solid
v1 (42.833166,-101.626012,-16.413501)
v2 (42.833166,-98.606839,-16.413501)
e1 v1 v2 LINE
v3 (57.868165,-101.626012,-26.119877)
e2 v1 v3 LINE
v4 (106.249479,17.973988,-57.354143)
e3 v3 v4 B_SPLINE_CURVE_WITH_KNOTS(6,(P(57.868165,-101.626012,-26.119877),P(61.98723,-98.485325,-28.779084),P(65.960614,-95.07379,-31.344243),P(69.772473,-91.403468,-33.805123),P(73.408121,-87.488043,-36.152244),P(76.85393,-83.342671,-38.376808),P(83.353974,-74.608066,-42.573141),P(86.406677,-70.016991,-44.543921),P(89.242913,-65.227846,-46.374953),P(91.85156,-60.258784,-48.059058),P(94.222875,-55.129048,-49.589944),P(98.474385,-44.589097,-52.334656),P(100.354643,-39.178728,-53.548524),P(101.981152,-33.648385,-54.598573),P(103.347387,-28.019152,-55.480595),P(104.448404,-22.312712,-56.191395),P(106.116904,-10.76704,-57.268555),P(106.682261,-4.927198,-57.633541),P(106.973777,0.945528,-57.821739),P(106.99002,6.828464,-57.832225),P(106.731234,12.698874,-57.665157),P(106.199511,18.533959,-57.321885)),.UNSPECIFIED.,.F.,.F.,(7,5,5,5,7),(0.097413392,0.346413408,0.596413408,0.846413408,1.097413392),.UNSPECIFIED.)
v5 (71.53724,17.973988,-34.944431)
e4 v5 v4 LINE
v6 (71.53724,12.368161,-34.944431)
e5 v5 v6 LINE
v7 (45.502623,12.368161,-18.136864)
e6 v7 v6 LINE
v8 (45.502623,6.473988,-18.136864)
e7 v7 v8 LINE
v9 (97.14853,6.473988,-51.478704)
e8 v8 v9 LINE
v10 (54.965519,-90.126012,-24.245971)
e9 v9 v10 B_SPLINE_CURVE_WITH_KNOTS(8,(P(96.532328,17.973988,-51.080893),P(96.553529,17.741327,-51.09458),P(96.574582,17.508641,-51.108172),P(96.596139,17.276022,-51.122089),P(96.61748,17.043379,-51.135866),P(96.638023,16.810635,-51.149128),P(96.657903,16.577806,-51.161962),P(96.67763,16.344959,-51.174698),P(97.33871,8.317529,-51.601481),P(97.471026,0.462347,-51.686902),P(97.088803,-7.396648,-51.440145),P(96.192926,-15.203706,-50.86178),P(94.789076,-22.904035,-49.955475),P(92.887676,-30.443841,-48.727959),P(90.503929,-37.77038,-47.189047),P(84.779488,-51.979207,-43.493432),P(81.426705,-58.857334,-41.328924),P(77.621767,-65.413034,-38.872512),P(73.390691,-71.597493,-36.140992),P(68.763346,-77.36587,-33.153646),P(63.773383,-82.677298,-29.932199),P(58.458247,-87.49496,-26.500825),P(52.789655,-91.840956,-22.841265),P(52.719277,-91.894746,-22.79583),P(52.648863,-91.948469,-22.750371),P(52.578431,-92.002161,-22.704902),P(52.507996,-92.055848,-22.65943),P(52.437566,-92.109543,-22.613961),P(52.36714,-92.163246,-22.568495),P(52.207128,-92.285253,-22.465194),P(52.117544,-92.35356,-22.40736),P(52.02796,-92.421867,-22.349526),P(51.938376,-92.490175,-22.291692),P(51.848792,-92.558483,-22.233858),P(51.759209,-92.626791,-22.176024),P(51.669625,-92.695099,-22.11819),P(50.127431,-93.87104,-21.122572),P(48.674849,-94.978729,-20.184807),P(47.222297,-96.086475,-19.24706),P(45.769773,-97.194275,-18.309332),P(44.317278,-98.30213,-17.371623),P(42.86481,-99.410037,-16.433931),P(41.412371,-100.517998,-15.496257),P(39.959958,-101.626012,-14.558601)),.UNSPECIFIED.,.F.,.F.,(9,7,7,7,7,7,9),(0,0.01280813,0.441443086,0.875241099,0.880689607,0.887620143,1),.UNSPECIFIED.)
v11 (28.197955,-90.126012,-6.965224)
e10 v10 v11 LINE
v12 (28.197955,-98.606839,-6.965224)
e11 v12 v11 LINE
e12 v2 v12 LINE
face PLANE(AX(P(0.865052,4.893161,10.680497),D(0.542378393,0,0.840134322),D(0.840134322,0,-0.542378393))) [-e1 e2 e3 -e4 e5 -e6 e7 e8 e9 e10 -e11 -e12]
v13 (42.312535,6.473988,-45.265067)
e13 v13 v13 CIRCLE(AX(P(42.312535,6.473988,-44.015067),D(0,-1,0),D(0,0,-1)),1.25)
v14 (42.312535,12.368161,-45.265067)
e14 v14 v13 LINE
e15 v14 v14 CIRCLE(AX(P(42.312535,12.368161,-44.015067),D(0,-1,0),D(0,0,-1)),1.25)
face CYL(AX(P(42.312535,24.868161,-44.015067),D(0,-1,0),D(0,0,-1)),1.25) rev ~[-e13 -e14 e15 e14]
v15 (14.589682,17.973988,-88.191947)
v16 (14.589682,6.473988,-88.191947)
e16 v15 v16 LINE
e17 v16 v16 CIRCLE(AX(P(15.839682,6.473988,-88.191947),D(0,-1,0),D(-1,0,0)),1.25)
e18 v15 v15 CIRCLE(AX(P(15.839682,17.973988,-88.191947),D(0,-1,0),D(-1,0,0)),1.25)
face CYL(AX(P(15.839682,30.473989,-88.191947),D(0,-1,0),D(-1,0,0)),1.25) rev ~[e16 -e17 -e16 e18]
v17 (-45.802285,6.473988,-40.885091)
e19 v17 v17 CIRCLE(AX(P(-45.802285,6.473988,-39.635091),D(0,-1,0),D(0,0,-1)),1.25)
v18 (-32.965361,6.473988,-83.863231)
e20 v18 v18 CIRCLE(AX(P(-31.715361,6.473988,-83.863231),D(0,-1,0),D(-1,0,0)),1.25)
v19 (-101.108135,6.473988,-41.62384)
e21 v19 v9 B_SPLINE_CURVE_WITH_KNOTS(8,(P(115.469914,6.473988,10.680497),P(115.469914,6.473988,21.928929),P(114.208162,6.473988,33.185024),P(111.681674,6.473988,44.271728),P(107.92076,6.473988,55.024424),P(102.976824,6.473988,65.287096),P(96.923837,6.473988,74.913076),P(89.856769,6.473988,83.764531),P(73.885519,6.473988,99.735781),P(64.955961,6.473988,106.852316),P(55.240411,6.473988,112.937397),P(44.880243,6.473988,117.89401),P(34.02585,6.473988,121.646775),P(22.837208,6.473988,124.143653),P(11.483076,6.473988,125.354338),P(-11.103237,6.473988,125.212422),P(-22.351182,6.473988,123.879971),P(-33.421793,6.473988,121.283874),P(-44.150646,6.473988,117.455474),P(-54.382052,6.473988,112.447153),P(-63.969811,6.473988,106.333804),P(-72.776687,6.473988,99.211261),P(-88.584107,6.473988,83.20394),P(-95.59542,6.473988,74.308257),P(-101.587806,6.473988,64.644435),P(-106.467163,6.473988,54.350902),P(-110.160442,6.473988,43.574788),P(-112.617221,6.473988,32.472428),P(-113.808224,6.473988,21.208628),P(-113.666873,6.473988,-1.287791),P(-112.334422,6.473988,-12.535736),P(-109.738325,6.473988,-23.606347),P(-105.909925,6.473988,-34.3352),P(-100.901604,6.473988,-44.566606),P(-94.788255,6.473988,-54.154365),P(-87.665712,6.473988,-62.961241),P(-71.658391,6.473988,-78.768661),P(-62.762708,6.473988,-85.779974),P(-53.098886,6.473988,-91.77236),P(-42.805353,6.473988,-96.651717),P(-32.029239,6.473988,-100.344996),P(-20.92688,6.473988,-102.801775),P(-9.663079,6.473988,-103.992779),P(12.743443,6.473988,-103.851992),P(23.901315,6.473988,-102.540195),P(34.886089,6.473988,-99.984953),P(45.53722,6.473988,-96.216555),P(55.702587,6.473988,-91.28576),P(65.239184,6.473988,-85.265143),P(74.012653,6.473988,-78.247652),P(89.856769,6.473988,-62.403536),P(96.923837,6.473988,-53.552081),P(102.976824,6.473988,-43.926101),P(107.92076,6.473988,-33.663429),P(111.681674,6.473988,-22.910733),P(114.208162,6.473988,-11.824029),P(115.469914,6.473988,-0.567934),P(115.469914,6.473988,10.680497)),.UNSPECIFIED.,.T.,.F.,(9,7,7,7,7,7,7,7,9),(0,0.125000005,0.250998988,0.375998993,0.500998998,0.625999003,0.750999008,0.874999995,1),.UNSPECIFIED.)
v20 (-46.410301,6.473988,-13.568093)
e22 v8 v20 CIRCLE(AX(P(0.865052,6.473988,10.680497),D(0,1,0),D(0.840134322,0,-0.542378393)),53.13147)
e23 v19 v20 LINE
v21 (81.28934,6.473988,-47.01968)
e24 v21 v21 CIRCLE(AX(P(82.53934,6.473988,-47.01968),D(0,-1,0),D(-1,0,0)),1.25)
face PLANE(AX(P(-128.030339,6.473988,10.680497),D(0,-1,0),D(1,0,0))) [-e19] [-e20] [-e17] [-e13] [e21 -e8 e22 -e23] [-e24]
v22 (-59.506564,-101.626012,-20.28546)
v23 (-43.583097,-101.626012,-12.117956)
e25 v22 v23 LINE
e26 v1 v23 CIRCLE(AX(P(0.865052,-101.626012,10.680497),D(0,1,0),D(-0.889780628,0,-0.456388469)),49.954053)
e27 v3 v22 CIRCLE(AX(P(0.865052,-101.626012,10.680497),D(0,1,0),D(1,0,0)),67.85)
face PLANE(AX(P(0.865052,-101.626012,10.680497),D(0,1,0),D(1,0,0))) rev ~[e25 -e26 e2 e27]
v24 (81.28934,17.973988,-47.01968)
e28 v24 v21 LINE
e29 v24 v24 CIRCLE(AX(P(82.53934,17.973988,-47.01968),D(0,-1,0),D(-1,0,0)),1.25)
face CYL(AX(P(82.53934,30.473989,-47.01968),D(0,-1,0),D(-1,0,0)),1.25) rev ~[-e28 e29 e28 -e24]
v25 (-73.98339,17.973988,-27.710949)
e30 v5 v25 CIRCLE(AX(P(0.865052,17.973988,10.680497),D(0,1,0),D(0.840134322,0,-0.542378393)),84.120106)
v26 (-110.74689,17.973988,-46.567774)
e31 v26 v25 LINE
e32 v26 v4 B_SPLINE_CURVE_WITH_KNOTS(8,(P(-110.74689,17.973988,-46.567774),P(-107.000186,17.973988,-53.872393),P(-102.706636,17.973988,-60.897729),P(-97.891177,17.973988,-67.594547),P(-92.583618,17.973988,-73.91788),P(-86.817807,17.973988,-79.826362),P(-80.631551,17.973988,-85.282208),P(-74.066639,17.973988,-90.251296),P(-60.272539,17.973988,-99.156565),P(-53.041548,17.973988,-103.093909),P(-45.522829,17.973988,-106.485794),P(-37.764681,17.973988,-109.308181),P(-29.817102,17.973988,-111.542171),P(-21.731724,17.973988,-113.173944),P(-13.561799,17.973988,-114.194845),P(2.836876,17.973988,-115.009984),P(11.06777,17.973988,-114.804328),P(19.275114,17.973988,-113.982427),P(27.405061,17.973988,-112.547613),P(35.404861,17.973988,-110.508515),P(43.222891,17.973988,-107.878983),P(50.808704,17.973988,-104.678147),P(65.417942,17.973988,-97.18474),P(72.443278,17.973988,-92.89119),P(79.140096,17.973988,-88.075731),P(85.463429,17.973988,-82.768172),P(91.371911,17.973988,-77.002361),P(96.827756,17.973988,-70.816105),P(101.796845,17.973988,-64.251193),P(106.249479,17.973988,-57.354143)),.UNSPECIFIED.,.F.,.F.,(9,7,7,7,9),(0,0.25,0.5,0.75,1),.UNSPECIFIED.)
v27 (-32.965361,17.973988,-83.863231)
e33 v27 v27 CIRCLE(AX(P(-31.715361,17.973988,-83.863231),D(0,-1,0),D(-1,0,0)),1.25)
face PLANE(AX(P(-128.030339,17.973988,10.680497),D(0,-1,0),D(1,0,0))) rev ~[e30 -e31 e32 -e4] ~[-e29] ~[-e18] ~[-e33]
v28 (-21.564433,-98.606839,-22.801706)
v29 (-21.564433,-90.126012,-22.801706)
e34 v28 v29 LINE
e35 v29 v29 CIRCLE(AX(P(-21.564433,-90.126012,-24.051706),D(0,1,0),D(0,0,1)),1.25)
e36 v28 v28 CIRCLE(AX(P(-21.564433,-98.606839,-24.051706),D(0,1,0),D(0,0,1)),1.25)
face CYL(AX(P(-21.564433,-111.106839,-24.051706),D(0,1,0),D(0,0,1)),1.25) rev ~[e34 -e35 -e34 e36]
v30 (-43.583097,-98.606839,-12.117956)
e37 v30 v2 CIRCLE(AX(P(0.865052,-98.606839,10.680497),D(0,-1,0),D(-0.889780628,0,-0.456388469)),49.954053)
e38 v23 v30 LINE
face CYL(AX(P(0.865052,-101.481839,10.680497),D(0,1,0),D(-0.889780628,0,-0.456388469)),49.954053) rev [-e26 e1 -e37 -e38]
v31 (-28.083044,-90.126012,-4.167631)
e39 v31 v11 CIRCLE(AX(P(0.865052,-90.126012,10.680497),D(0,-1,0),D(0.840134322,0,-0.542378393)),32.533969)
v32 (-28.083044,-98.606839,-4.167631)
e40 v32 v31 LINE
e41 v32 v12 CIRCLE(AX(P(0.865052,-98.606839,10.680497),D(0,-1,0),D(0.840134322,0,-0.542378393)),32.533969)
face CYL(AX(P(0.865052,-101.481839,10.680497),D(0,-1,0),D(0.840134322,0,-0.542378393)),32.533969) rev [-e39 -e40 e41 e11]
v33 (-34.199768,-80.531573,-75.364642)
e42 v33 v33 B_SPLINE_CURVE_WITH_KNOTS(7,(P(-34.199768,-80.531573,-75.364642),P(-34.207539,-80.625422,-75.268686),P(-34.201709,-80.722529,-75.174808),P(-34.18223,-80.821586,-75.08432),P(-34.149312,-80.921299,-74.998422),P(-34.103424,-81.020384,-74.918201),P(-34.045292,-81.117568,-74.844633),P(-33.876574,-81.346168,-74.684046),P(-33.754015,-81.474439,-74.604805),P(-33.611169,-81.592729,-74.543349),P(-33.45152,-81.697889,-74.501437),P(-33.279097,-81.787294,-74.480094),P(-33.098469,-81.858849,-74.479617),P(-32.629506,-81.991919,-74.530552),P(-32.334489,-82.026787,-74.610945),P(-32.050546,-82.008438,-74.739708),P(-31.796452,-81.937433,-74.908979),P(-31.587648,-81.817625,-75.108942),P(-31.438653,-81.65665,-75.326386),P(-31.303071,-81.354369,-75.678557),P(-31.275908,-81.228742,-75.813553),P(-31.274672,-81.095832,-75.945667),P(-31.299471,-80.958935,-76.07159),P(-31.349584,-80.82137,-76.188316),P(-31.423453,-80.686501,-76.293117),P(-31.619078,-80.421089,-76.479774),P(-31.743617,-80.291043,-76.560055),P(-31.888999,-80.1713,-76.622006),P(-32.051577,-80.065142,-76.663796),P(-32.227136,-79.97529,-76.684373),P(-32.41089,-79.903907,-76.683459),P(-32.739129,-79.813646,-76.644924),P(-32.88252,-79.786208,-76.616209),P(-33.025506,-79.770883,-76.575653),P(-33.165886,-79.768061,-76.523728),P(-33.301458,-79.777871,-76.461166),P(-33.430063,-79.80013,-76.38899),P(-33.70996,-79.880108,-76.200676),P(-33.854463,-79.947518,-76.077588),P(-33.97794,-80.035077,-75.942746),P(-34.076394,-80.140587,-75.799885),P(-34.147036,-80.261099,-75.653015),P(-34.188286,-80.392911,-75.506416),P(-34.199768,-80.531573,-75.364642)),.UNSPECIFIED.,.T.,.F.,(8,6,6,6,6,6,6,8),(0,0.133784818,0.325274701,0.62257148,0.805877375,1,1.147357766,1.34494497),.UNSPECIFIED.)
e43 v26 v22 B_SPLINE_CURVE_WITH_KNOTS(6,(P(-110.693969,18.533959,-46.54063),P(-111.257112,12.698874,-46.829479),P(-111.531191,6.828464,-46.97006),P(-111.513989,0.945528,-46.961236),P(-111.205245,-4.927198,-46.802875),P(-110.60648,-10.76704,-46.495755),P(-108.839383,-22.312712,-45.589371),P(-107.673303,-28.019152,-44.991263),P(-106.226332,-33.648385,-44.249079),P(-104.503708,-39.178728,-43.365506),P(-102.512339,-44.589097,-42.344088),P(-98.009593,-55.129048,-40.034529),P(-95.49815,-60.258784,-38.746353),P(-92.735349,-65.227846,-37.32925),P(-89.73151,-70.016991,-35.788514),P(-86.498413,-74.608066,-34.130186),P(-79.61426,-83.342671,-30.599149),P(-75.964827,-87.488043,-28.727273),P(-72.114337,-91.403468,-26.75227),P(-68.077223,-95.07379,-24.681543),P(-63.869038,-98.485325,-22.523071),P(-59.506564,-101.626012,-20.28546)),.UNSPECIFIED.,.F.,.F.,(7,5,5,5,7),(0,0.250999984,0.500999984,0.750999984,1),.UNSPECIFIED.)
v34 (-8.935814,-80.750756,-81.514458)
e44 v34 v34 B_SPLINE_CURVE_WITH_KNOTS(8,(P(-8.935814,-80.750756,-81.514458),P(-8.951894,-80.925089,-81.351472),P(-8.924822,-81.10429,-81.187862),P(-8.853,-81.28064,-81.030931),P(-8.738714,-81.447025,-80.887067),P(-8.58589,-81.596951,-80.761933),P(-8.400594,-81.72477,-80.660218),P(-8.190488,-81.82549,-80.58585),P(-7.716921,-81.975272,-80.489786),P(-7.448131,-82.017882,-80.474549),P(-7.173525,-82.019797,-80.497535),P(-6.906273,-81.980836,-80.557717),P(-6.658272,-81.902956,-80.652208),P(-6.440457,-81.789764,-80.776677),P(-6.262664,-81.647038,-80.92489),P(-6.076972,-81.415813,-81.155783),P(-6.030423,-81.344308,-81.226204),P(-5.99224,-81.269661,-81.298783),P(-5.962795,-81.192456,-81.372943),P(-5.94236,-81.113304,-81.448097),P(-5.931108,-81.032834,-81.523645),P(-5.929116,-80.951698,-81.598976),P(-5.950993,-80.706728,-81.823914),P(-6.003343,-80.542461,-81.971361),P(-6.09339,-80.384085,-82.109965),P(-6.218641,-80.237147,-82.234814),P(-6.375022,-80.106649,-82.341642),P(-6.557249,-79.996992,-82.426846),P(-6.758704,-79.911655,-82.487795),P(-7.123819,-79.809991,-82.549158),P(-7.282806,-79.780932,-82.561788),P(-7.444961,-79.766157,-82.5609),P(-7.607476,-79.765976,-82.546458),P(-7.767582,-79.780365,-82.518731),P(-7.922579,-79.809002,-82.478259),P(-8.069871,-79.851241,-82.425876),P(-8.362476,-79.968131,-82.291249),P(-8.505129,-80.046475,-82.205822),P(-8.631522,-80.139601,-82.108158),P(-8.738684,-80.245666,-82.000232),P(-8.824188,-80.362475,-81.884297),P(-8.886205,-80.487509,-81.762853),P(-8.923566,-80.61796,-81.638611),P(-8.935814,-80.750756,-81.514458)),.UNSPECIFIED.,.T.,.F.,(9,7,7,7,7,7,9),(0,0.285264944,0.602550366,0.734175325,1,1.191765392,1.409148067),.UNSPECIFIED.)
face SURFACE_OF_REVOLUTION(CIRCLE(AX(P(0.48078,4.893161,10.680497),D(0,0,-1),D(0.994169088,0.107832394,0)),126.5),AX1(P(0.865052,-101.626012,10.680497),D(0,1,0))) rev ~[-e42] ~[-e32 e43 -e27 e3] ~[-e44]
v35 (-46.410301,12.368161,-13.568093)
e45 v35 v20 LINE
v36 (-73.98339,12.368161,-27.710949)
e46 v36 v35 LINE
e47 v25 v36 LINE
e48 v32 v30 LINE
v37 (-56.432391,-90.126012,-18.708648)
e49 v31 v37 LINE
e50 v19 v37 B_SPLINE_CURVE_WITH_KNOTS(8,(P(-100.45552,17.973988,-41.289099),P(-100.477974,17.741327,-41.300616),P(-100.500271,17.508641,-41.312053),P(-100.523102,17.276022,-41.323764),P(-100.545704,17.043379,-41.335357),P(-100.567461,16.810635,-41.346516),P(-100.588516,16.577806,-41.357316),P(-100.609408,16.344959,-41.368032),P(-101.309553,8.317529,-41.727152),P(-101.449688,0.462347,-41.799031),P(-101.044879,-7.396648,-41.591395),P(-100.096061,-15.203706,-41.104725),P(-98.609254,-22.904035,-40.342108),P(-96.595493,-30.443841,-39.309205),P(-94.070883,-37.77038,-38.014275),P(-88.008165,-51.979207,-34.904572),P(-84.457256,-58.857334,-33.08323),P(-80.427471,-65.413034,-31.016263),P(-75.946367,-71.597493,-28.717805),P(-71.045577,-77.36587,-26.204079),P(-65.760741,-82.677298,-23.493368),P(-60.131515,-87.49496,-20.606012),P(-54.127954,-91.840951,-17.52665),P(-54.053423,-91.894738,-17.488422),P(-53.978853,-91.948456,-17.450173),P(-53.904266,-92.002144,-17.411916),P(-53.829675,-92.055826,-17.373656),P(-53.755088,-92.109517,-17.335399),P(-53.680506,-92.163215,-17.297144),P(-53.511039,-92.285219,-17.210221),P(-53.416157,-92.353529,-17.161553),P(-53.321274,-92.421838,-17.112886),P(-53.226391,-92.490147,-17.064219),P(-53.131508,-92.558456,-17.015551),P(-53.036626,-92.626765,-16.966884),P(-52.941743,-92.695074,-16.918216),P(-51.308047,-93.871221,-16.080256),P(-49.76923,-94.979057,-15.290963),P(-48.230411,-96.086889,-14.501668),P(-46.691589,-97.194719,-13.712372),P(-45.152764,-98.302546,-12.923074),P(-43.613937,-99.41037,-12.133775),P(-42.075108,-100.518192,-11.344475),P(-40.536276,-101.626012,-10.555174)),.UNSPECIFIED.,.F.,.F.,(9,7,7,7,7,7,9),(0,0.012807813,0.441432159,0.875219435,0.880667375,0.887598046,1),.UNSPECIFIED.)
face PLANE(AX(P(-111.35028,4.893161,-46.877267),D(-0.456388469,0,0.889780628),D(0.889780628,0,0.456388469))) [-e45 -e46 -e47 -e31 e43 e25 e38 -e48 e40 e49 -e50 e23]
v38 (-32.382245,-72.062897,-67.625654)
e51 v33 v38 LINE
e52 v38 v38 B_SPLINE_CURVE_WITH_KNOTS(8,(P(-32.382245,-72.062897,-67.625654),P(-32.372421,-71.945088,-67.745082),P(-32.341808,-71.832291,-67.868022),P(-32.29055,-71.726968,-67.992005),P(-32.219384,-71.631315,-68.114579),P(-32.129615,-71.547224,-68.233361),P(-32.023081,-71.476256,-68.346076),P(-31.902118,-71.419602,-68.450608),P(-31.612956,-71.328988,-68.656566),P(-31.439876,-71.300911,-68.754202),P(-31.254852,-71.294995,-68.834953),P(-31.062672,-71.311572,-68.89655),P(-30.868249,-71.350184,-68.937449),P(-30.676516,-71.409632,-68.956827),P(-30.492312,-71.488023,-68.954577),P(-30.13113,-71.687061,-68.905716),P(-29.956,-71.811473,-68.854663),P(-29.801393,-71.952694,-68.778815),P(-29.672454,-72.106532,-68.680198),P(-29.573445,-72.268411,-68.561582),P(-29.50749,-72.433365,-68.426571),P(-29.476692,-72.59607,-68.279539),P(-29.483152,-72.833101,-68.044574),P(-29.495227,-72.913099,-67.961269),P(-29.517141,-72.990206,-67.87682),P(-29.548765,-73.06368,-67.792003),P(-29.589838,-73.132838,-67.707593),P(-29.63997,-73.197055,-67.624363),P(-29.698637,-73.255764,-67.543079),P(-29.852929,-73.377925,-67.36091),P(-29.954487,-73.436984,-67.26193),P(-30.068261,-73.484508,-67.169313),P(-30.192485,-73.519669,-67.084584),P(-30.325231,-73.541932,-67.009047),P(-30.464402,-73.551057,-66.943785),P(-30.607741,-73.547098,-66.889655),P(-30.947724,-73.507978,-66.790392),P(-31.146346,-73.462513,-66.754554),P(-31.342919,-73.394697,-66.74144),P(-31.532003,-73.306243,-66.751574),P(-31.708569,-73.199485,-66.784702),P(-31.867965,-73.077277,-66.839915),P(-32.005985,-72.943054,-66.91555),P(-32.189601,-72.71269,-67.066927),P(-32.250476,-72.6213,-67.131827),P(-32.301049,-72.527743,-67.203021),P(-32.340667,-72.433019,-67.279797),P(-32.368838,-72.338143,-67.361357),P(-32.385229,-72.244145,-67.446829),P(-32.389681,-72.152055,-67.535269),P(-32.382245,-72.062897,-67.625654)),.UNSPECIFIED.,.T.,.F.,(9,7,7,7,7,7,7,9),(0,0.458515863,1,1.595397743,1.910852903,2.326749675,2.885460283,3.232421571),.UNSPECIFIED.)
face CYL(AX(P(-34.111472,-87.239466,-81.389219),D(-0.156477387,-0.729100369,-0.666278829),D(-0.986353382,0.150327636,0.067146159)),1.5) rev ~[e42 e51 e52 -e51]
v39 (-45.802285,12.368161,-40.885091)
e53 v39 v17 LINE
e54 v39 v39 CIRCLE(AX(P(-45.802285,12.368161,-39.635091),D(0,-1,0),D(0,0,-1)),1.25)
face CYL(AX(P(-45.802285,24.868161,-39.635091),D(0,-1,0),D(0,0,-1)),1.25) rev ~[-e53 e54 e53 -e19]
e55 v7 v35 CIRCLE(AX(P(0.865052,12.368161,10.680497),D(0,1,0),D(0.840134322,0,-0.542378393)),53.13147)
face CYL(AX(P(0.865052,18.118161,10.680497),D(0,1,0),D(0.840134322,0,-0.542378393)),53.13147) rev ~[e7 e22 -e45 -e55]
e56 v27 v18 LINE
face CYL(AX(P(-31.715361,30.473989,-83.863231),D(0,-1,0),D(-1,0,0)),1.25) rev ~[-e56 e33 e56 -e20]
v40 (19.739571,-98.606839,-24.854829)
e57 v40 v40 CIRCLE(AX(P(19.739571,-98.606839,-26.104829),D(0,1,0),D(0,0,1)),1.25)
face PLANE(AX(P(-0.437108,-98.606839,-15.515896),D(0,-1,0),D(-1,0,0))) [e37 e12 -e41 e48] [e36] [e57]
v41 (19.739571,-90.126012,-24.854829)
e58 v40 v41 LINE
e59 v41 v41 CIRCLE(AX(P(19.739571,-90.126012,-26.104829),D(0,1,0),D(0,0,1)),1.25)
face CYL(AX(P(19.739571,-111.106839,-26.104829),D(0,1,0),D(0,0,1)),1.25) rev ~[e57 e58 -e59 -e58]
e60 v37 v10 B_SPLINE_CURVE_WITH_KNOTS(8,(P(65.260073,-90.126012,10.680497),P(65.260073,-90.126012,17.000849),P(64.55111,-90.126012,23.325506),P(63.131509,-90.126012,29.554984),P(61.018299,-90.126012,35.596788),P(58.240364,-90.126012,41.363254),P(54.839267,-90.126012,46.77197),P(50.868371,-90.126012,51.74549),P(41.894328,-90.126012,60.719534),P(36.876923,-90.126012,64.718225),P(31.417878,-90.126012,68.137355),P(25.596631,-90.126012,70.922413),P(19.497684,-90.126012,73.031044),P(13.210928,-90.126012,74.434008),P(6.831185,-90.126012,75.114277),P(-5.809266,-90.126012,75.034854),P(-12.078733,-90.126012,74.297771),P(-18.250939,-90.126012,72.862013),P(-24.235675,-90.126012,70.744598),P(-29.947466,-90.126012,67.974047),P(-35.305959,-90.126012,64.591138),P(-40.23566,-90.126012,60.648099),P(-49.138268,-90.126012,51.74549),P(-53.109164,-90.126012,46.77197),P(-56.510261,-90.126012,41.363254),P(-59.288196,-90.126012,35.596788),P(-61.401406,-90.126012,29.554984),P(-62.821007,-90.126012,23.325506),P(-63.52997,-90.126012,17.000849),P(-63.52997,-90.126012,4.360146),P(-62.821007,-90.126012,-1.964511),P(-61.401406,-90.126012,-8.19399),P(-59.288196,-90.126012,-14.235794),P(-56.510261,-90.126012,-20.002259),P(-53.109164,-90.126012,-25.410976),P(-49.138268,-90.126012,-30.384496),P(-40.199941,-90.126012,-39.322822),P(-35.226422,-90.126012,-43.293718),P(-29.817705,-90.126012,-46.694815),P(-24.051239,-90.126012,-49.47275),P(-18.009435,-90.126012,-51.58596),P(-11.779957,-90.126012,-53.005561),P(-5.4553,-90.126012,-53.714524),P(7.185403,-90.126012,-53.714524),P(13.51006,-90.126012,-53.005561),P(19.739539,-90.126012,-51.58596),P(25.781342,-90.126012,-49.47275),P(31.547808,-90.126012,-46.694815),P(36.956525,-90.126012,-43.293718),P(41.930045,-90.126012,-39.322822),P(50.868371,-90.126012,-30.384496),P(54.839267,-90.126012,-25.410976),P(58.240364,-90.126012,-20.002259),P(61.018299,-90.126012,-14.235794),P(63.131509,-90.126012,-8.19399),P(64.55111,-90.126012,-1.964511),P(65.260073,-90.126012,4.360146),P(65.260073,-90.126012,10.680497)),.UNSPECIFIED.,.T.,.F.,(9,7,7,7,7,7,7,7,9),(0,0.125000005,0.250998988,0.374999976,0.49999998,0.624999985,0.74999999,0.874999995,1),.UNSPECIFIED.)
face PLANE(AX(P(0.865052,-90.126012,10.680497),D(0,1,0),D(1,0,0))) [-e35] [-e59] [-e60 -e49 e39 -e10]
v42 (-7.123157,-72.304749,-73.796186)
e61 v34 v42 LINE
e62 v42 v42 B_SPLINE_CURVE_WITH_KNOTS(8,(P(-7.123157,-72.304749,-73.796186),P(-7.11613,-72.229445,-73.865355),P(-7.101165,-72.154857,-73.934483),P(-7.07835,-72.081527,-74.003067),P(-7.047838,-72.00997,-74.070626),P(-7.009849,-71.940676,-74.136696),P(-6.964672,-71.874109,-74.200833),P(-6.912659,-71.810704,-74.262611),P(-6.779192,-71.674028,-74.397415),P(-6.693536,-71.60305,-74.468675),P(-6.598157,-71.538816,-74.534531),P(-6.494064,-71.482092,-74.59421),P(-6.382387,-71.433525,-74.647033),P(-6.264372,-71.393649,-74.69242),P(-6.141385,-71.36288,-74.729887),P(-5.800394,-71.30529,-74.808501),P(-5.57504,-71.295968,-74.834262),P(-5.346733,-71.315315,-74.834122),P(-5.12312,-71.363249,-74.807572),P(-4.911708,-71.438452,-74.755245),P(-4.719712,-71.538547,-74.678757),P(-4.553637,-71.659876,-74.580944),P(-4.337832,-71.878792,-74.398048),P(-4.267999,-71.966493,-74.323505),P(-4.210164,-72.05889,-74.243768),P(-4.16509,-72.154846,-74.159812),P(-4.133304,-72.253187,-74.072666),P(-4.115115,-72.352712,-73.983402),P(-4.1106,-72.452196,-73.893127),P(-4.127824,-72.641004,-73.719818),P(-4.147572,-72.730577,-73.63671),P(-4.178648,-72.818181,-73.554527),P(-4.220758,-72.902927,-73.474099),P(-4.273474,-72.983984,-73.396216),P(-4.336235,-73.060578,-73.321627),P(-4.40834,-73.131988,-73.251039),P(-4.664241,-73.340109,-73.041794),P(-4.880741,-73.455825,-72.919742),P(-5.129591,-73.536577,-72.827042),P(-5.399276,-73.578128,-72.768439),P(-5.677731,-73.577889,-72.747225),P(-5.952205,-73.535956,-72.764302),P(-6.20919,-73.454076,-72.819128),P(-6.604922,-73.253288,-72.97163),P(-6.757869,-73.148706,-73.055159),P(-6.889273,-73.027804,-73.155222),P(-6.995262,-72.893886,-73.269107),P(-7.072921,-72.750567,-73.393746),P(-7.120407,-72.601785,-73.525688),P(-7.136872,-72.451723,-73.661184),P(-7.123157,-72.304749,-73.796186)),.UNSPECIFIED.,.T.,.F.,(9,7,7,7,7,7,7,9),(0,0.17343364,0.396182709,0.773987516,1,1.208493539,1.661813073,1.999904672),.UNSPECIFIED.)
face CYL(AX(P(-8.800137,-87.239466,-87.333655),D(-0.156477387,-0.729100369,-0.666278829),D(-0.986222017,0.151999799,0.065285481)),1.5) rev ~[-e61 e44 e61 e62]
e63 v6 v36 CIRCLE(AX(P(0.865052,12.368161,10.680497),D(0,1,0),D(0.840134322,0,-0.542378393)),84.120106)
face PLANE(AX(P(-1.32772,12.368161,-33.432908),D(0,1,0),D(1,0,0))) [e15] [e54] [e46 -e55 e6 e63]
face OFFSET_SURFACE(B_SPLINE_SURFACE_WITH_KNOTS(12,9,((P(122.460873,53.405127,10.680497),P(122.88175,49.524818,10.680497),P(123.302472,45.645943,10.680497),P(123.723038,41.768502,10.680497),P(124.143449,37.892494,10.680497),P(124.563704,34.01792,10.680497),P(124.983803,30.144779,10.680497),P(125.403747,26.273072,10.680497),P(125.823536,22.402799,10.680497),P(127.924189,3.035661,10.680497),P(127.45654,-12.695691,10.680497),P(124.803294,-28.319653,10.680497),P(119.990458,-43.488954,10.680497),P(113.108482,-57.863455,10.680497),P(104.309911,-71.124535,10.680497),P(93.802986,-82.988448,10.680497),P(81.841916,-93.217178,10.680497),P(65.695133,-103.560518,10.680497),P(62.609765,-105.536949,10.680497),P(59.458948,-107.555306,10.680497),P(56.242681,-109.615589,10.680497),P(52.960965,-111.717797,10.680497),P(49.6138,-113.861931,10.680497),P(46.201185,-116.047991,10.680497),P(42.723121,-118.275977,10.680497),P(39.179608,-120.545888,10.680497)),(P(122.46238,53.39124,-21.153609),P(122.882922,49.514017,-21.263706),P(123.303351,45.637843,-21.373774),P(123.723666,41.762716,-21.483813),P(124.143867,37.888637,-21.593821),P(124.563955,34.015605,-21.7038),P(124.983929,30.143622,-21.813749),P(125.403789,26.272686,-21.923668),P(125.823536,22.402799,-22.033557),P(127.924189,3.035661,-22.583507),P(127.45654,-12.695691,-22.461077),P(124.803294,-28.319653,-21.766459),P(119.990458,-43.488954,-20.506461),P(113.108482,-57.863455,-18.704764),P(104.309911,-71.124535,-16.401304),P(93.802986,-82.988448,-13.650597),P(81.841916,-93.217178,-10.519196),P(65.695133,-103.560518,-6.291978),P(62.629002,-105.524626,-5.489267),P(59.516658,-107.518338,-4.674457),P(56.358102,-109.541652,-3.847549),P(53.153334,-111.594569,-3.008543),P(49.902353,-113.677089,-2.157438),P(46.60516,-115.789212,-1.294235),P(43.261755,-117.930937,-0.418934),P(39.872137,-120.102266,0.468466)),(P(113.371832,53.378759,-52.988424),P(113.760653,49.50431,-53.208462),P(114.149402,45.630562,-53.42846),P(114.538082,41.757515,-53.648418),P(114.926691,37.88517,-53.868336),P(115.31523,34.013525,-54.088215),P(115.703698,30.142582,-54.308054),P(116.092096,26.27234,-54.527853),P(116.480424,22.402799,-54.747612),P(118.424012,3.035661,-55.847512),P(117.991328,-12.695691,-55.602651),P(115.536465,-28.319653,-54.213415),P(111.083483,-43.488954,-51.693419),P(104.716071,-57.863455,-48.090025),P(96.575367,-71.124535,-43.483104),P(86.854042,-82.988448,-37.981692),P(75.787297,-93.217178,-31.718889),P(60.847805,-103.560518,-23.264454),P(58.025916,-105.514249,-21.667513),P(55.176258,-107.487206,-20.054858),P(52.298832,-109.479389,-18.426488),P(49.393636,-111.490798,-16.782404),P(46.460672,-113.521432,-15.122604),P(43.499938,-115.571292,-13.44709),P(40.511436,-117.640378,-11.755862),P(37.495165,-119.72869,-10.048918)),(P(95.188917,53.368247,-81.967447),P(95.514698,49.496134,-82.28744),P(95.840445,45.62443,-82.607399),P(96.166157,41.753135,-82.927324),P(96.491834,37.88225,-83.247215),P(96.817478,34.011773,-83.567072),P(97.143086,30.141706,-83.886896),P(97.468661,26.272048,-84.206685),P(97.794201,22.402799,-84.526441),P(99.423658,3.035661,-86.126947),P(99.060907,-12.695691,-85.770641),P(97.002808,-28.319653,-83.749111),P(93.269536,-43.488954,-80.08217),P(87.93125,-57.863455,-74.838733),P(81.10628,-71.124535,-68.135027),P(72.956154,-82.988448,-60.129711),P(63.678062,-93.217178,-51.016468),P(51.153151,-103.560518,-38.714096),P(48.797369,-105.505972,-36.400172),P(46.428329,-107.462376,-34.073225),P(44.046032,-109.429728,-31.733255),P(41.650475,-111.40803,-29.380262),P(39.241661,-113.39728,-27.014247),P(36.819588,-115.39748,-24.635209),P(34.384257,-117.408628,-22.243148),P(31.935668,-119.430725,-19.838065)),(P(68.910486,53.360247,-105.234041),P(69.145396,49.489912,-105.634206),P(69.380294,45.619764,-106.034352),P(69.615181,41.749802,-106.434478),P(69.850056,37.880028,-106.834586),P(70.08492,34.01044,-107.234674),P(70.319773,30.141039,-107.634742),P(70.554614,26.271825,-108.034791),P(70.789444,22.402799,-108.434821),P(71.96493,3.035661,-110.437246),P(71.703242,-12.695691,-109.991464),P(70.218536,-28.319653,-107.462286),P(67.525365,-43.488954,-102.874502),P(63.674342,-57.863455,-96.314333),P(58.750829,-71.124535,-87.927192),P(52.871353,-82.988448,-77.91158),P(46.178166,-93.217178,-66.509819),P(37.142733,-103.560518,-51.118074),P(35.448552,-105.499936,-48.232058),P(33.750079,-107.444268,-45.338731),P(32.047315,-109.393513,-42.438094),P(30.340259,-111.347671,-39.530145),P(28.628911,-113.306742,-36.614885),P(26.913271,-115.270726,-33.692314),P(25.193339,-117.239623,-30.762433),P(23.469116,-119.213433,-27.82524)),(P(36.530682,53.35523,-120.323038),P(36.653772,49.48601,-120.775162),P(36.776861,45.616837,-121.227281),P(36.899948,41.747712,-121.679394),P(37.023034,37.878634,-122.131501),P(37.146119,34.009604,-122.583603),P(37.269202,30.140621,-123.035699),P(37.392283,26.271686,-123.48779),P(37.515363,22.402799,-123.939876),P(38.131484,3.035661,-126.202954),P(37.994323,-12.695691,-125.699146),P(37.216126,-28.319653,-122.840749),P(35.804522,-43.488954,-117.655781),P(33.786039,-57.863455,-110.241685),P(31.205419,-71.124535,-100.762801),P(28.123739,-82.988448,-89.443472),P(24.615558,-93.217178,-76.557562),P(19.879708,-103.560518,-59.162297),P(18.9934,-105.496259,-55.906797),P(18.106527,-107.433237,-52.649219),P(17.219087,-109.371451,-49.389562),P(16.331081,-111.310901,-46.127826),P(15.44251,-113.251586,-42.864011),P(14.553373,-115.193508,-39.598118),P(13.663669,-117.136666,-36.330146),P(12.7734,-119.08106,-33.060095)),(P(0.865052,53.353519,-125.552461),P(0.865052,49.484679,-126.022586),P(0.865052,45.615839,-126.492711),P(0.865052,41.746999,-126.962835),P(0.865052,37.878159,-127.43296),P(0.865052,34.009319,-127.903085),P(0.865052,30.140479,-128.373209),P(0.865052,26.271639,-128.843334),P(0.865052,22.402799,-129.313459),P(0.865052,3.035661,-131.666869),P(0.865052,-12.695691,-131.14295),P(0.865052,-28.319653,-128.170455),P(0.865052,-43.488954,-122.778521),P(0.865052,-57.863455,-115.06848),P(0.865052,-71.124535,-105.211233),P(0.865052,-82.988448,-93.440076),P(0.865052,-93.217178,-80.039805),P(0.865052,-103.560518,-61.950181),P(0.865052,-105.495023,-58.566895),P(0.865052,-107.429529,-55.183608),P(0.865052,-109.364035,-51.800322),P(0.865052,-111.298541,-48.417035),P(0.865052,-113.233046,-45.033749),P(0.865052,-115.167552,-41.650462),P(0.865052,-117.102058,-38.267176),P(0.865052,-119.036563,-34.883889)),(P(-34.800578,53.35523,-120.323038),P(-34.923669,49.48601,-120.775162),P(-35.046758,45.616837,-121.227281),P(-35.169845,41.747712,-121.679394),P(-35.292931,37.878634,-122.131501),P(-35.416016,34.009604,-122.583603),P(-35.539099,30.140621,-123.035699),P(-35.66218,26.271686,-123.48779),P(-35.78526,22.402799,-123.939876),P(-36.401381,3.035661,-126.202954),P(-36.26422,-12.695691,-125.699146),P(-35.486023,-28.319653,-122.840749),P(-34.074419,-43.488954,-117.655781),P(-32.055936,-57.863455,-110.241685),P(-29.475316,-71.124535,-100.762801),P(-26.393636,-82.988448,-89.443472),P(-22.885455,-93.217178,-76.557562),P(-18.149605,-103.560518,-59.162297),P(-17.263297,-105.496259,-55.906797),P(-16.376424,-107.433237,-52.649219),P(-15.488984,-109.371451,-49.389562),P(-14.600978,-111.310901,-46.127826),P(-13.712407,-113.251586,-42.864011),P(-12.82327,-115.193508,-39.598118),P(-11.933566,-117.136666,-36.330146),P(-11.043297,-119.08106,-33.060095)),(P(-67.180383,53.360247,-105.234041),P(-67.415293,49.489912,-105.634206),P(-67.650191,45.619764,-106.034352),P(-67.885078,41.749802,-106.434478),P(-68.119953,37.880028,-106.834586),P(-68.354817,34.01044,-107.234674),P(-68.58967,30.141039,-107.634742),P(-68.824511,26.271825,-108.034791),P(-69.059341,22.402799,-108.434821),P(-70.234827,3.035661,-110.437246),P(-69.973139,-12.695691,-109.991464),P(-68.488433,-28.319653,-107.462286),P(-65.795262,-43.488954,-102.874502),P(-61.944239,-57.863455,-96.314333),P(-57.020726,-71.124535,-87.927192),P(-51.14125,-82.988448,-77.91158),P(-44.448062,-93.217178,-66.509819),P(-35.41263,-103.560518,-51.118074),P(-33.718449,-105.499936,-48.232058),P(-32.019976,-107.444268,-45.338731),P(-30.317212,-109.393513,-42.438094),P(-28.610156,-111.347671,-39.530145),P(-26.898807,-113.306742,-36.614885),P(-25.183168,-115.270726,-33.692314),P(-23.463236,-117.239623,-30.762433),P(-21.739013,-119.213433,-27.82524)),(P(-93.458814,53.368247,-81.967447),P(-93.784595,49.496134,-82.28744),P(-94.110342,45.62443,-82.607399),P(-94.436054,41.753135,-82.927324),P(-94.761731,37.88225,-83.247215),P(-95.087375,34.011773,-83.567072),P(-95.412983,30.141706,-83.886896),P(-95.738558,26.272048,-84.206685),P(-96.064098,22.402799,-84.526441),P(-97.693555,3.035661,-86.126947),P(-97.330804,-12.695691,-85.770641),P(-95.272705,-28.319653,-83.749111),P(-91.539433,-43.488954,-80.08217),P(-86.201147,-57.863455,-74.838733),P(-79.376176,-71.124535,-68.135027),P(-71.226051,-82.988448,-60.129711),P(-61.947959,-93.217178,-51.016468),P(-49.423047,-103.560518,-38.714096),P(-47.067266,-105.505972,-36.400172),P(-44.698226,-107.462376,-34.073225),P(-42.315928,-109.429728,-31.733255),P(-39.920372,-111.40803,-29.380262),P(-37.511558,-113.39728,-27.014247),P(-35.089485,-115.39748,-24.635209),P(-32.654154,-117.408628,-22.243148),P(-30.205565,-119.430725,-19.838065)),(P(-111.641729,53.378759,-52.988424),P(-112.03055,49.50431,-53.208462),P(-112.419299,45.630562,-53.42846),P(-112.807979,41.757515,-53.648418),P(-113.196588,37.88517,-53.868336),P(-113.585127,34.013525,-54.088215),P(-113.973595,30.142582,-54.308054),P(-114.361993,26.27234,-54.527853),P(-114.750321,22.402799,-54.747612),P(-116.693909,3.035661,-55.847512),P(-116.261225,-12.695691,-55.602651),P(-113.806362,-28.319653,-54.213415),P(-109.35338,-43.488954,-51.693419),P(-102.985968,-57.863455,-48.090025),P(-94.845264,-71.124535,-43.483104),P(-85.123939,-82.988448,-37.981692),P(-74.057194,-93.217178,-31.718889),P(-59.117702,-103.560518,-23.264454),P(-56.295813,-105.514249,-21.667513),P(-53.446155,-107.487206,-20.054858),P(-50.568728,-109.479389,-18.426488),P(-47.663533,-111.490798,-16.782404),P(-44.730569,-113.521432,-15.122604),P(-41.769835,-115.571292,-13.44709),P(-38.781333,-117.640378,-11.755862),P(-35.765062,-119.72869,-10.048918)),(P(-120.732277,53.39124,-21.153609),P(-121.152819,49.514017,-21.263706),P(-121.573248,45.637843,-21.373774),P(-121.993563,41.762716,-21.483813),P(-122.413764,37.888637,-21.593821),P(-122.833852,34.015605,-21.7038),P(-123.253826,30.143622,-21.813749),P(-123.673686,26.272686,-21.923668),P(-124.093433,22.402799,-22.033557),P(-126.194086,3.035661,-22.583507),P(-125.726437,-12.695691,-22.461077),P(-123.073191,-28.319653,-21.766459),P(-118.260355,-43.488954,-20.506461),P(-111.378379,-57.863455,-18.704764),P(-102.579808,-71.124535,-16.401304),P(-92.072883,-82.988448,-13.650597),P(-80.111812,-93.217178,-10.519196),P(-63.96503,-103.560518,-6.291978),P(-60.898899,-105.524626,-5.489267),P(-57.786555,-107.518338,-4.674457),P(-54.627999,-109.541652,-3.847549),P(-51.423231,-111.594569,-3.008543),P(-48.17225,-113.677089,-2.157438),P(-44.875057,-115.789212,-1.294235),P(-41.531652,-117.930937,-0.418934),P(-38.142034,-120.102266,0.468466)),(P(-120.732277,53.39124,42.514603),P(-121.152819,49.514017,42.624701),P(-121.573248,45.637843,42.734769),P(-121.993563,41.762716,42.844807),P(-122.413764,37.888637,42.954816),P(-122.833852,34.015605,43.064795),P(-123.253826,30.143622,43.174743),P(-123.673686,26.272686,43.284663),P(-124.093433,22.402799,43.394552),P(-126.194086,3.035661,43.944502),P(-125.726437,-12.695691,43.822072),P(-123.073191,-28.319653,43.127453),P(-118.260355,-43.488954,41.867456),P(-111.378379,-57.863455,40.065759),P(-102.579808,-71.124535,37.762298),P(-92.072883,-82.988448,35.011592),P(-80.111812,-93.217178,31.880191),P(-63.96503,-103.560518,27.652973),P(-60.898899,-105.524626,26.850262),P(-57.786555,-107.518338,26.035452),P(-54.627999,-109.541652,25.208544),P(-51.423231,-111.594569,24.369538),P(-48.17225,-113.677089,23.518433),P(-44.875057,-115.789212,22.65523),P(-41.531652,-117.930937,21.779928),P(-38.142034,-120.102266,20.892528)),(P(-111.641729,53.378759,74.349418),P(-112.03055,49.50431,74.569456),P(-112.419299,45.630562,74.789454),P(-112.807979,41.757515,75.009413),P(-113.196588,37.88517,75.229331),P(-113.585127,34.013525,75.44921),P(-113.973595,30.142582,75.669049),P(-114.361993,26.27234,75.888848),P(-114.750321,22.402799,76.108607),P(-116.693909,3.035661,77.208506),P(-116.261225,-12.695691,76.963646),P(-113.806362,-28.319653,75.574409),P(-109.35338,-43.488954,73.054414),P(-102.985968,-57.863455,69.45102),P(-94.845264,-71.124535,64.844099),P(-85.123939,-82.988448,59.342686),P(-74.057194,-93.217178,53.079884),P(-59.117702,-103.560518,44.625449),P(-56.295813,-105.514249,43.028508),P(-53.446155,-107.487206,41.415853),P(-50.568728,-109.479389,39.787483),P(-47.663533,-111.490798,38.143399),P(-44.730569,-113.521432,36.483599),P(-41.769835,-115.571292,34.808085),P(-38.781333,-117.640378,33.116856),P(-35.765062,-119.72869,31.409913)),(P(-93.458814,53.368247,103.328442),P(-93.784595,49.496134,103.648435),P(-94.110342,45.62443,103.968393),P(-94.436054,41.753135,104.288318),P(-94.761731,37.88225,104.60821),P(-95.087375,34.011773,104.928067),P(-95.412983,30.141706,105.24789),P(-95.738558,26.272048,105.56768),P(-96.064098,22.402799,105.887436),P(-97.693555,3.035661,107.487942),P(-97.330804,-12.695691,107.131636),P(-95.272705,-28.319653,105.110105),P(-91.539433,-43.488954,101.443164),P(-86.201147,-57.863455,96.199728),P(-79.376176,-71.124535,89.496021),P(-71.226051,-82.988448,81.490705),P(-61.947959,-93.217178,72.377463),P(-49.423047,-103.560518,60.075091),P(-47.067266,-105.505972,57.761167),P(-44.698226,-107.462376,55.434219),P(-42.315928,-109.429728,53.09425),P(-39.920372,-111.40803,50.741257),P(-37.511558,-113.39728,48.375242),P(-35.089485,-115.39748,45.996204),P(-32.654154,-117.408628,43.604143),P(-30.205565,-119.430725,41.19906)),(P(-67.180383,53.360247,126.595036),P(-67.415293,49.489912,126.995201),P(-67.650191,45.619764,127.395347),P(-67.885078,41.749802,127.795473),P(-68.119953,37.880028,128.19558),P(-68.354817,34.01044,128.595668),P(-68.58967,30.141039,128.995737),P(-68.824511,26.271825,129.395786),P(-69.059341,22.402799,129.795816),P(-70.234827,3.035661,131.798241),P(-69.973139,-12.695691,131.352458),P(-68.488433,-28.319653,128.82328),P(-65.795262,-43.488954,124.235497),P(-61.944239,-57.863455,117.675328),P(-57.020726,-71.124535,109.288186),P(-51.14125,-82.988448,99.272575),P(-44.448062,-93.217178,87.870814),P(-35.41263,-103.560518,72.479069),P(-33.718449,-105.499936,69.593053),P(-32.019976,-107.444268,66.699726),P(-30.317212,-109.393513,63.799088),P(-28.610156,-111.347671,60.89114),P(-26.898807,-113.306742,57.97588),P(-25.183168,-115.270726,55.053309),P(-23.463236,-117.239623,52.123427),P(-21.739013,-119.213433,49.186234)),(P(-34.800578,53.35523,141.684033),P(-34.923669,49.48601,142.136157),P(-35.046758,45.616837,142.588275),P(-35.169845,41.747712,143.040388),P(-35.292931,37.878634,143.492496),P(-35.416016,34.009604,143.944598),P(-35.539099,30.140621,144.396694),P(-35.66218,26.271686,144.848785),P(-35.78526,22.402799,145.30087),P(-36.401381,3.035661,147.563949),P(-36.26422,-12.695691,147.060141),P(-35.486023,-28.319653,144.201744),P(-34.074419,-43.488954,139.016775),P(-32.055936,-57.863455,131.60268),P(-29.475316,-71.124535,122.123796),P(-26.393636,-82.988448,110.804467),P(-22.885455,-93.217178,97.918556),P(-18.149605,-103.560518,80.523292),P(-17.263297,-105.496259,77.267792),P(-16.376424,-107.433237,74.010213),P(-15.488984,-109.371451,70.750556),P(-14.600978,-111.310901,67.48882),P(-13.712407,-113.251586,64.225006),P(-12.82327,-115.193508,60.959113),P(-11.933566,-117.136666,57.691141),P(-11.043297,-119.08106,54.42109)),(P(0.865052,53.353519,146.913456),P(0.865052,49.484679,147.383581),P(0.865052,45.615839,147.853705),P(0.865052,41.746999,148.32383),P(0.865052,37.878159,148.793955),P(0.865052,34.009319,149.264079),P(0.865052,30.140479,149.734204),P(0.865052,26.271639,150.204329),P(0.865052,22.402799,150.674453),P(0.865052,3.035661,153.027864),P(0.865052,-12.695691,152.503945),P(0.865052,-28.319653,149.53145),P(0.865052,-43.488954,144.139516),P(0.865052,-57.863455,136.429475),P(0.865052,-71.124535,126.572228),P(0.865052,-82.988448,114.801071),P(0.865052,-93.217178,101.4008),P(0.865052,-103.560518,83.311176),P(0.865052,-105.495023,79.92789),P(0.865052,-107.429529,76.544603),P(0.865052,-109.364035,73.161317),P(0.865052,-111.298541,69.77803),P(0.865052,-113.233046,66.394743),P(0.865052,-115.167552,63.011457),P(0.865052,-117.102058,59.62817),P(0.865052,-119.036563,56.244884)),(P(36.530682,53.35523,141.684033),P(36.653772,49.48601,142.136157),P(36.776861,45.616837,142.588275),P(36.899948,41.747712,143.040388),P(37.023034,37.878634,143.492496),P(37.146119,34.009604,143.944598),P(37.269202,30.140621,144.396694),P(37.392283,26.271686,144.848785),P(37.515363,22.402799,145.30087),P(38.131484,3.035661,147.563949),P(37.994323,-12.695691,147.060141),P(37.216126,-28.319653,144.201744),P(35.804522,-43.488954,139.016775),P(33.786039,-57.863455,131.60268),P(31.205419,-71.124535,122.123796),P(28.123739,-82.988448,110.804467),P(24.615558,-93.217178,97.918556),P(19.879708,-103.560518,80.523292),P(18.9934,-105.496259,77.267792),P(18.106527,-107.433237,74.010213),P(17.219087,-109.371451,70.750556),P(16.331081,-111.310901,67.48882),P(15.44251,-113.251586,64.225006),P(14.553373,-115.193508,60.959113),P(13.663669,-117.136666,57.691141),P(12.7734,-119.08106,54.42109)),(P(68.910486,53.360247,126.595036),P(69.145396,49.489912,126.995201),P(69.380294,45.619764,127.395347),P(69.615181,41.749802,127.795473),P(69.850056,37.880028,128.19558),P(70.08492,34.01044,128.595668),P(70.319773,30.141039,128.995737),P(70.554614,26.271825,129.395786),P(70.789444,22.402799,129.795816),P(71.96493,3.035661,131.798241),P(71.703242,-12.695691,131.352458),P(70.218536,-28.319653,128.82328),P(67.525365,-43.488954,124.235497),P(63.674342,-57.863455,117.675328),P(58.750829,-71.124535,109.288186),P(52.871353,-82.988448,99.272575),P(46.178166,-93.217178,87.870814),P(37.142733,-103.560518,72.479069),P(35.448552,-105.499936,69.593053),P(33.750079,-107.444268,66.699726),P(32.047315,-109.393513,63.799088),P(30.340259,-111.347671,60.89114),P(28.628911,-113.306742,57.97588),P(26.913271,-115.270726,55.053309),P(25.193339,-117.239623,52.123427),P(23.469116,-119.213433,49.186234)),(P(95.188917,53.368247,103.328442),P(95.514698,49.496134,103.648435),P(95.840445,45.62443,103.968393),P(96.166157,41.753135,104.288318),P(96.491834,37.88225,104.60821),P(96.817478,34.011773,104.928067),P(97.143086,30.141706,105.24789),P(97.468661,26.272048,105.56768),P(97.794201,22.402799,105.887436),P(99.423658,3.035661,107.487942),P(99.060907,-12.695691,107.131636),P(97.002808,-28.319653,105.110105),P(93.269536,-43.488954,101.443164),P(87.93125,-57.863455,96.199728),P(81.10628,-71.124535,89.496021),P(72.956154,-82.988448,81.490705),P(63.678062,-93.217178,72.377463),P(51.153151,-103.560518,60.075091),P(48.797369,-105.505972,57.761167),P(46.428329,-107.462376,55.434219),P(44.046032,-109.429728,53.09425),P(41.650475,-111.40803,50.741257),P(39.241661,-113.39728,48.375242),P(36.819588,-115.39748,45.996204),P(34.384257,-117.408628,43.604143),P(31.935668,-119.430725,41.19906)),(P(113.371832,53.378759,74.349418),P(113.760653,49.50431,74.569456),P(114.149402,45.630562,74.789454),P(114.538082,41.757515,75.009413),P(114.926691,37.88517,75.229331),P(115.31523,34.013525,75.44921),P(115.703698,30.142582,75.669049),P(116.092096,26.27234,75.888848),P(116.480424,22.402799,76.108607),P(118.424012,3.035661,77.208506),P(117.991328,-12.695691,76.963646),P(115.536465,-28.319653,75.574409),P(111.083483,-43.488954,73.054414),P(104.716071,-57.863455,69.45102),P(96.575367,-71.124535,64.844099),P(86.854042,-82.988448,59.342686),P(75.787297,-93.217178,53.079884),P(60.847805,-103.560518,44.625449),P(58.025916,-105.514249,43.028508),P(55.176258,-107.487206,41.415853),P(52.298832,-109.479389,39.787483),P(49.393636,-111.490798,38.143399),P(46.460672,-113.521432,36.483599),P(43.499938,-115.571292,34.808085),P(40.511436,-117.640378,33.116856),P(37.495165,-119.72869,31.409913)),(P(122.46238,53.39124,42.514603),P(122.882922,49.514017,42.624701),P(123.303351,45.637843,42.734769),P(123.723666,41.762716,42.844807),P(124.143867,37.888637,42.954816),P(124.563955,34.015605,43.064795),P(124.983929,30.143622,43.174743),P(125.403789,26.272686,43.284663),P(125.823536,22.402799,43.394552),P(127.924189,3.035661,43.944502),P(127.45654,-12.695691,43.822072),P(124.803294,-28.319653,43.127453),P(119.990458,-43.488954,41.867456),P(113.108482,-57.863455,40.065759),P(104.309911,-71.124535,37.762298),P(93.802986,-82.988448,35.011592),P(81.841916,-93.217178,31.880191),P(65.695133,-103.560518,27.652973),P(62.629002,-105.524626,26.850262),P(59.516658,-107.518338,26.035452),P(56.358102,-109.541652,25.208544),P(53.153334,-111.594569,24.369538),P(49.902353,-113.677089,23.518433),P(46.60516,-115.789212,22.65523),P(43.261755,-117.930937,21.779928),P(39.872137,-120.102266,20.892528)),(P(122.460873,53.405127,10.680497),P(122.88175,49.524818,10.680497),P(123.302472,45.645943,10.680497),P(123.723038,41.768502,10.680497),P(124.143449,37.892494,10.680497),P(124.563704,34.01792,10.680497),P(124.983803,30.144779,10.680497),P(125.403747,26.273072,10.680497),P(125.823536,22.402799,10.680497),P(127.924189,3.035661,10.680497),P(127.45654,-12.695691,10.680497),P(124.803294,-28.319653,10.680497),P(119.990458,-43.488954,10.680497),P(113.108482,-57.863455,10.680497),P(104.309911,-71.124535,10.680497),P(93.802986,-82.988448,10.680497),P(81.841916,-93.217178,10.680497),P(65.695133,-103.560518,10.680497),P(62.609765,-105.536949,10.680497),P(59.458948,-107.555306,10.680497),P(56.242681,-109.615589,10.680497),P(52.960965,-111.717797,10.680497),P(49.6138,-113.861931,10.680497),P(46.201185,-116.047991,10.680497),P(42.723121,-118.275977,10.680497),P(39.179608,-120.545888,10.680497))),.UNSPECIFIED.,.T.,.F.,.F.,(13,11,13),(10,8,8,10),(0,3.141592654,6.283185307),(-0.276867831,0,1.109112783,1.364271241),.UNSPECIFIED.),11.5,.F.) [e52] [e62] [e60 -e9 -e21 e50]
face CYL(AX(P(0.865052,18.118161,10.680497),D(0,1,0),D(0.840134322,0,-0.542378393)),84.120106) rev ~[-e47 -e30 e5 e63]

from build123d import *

# Parameters (mm, degrees)
ENL_V_MAT_EXTRU_1_DEPTH  = 205
ESQUISSE4_W              = 219.421497641
ESQUISSE4_H              = 186.787380576
ENL_V_MAT_EXTRU_2_DEPTH  = 241.082722882
COQUE2_T                 = -10
ENL_V_MAT_EXTRU_4_DEPTH  = 5
ENL_V_MAT_EXTRU_5_DEPTH  = 25
ENL_V_MAT_EXTRU_6_DEPTH  = 2.5
ENL_V_MAT_EXTRU_10_DEPTH = 15
ECHELLE1_SCALE           = 1.15
TROU_TARAUD_M32_D        = 2.5
TROU_TARAUD_M32_DEPTH    = 12.5
TROU_TARAUD_M32_TIP      = 0.751075774
TROU_TARAUD_M33_D        = 2.5
TROU_TARAUD_M33_DEPTH    = 12.5
TROU_TARAUD_M33_TIP      = 0.751075774
TROU_TARAUD_M35_D        = 2.5
TROU_TARAUD_M35_DEPTH    = 12.5
TROU_TARAUD_M35_TIP      = 0.751075774
ESQUISSE23_R             = 1.5
ENL_V_MAT_EXTRU_11_DEPTH = 40


with BuildPart() as part:
    # Esquisse1 → Révolution2 (revolve)
    with BuildSketch(Plane.XY):
        with BuildLine():
            Line((0.334149559, -92.625367455), (0.334149559, 171))
            ThreePointArc((0.334149559, 171), (43.341663836, 173.345331392), (83, 190.148998741))
            ThreePointArc((83, 190.148998741), (97.133928161, 161.990328143), (102, 130.86156331))
            add(Edge.make_bspline(
                [(102, 130.86156331), (103.479009077, 113.684745488), (71.205293421, 65.560678141), (110.707376512, 34.252457406), (109.358599643, 11.86156331)],
                knots=[0, 0, 0, 0, 0.406612523, 1, 1, 1, 1], degree=3))
            ThreePointArc((109.358599643, 11.86156331), (99.215374733, -47.500625433), (59.334149559, -92.625367455))
            Line((59.334149559, -92.625367455), (0.334149559, -92.625367455))
        make_face()
    revolve(axis=Axis((0.334149559, -92.625367455, 0), (0, 1, 0)))

    # Esquisse3 → Enlèv. mat.-Extru.1 (cut, symmetric)
    with BuildSketch(Plane(origin=(0, 0, 0), x_dir=(1, 0, 0), z_dir=(0, 1, 0))):
        with BuildLine():
            Line((-97.244399695, 50.050229554), (0.334149559, 0))
            Line((0.334149559, 0), (92.468194445, 59.480387742))
            ThreePointArc((92.468194445, 59.480387742), (5.778653928, -109.530617295), (-97.244399695, 50.050229554))
        make_face()
    extrude(amount=ENL_V_MAT_EXTRU_1_DEPTH, both=True, mode=Mode.SUBTRACT)

    # Esquisse4 → Enlèv. mat.-Extru.2 (cut, through all)
    with BuildSketch(Plane.XY):
        with Locations((-2.038050308, 104.768322833)):
            Rectangle(ESQUISSE4_W, ESQUISSE4_H)
    extrude(amount=-ENL_V_MAT_EXTRU_2_DEPTH, mode=Mode.SUBTRACT)

    # Coque2
    coque2_openings = [part.faces().sort_by_distance(p)[0] for p in [
        (41.688799169, -36.484898267, -26.697955102),
        (-43.464282683, -36.484897866, -22.465199622),
    ]]
    offset(amount=COQUE2_T, openings=coque2_openings, kind=Kind.INTERSECTION)

    # Esquisse6 → Enlèv. mat.-Extru.4 (cut)
    with BuildSketch(Plane(origin=(0, 11.5, 0), x_dir=(1, 0, 0), z_dir=(0, 1, 0))):
        with BuildLine():
            Line((-64.751451353, 33.383866548), (0.334149559, 0))
            Line((0.334149559, 0), (61.788226523, 39.673850536))
            ThreePointArc((61.788226523, 39.673850536), (-3.29737439, 73.057717085), (-64.751451353, 33.383866548))
        make_face()
    extrude(amount=-ENL_V_MAT_EXTRU_4_DEPTH, mode=Mode.SUBTRACT)

    # Esquisse7 → Enlèv. mat.-Extru.5 (cut)
    with BuildSketch(Plane(origin=(0, 11.5, 0), x_dir=(1, 0, 0), z_dir=(0, 1, 0))):
        with BuildLine():
            Line((-40.77485255, 21.085730501), (0.334149559, 0))
            Line((0.334149559, 0), (39.149428885, 25.0585749))
            ThreePointArc((39.149428885, 25.0585749), (-1.959573224, 46.144305401), (-40.77485255, 21.085730501))
        make_face()
    extrude(amount=-ENL_V_MAT_EXTRU_5_DEPTH, mode=Mode.SUBTRACT)

    # Esquisse8 → Enlèv. mat.-Extru.6 (cut, symmetric)
    with BuildSketch(Plane(origin=(0, -92.5, 0), x_dir=(1, 0, 0), z_dir=(0, 1, 0))):
        with BuildLine():
            Line((36.828161908, 23.559998993), (0.334149559, 0))
            Line((0.334149559, 0), (-38.316414256, 19.824742283))
            ThreePointArc((-38.316414256, 19.824742283), (-1.822401908, 43.384741276), (36.828161908, 23.559998993))
        make_face()
    extrude(amount=ENL_V_MAT_EXTRU_6_DEPTH, both=True, mode=Mode.SUBTRACT)

    # Esquisse10 → Enlèv. mat.-Extru.10 (cut)
    with BuildSketch(Plane(origin=(0, -92.5, 0), x_dir=(1, 0, 0), z_dir=(0, 1, 0))):
        with BuildLine():
            Line((-24.838107184, 12.911415859), (0.334149559, 0))
            Line((0.334149559, 0), (24.101892064, 15.344105881))
            ThreePointArc((24.101892064, 15.344105881), (-1.070364679, 28.25552174), (-24.838107184, 12.911415859))
        make_face()
    extrude(amount=ENL_V_MAT_EXTRU_10_DEPTH, mode=Mode.SUBTRACT)


with BuildPart() as part_1:
    # Echelle1: scaled about (-3.205196898, -32.62107135, -71.203315854)
    add(part.part.scale(ECHELLE1_SCALE).moved(Location((0.480779535, 4.893160702, 10.680497378))))

    # Trou taraudé M32
    with Locations(Plane(origin=(-21.564432755, -98.60683867, -24.05170562), x_dir=(0, 0, -1), z_dir=(0, -1, 0))):
        with Locations((0, 0), (2.053122984, 41.304003571)):
            Hole(TROU_TARAUD_M32_D / 2, depth=TROU_TARAUD_M32_DEPTH)
            with Locations((0, 0, -(TROU_TARAUD_M32_DEPTH + TROU_TARAUD_M32_TIP / 2))):  # 118° drill point
                Cone(0, TROU_TARAUD_M32_D / 2, TROU_TARAUD_M32_TIP, mode=Mode.SUBTRACT)

    # Trou taraudé M33
    with Locations(Plane(origin=(-45.802285112, 12.36816133, -39.635090601), x_dir=(0, 0, 1), z_dir=(0, 1, 0))):
        with Locations((0, 0), (-4.379976461, 88.114820569)):
            Hole(TROU_TARAUD_M33_D / 2, depth=TROU_TARAUD_M33_DEPTH)
            with Locations((0, 0, -(TROU_TARAUD_M33_DEPTH + TROU_TARAUD_M33_TIP / 2))):  # 118° drill point
                Cone(0, TROU_TARAUD_M33_D / 2, TROU_TARAUD_M33_TIP, mode=Mode.SUBTRACT)

    # Trou taraudé M35
    with Locations(Plane(origin=(82.53934023, 17.973988757, -47.019680031), x_dir=(1, 0, 0), z_dir=(0, 1, 0))):
        with Locations((0, 0), (-66.69965831, 41.172267137), (-114.254701281, 36.84355094)):
            Hole(TROU_TARAUD_M35_D / 2, depth=TROU_TARAUD_M35_DEPTH)
            with Locations((0, 0, -(TROU_TARAUD_M35_DEPTH + TROU_TARAUD_M35_TIP / 2))):  # 118° drill point
                Cone(0, TROU_TARAUD_M35_D / 2, TROU_TARAUD_M35_TIP, mode=Mode.SUBTRACT)

    # Esquisse23 → Enlèv. mat.-Extru.11 (cut)
    with BuildSketch(Plane(origin=(-19.273619273, -89.804688212, -82.066838873), x_dir=(-0.9876815415012294, 0.1155106334721785, 0.10555788048559506), z_dir=(-0.15647738679360396, -0.7291003694870504, -0.6662788294971496))):
        with Locations(Location((-10.604108873, 5.618400934, 0), (0, 0, 3.1152173))):
            Circle(ESQUISSE23_R)
        with Locations(Location((15.022911638, 1.230255574, 0), (0, 0, 2.971685795))):
            Circle(ESQUISSE23_R)
    extrude(amount=-ENL_V_MAT_EXTRU_11_DEPTH, mode=Mode.SUBTRACT)


solid = part_1.part
